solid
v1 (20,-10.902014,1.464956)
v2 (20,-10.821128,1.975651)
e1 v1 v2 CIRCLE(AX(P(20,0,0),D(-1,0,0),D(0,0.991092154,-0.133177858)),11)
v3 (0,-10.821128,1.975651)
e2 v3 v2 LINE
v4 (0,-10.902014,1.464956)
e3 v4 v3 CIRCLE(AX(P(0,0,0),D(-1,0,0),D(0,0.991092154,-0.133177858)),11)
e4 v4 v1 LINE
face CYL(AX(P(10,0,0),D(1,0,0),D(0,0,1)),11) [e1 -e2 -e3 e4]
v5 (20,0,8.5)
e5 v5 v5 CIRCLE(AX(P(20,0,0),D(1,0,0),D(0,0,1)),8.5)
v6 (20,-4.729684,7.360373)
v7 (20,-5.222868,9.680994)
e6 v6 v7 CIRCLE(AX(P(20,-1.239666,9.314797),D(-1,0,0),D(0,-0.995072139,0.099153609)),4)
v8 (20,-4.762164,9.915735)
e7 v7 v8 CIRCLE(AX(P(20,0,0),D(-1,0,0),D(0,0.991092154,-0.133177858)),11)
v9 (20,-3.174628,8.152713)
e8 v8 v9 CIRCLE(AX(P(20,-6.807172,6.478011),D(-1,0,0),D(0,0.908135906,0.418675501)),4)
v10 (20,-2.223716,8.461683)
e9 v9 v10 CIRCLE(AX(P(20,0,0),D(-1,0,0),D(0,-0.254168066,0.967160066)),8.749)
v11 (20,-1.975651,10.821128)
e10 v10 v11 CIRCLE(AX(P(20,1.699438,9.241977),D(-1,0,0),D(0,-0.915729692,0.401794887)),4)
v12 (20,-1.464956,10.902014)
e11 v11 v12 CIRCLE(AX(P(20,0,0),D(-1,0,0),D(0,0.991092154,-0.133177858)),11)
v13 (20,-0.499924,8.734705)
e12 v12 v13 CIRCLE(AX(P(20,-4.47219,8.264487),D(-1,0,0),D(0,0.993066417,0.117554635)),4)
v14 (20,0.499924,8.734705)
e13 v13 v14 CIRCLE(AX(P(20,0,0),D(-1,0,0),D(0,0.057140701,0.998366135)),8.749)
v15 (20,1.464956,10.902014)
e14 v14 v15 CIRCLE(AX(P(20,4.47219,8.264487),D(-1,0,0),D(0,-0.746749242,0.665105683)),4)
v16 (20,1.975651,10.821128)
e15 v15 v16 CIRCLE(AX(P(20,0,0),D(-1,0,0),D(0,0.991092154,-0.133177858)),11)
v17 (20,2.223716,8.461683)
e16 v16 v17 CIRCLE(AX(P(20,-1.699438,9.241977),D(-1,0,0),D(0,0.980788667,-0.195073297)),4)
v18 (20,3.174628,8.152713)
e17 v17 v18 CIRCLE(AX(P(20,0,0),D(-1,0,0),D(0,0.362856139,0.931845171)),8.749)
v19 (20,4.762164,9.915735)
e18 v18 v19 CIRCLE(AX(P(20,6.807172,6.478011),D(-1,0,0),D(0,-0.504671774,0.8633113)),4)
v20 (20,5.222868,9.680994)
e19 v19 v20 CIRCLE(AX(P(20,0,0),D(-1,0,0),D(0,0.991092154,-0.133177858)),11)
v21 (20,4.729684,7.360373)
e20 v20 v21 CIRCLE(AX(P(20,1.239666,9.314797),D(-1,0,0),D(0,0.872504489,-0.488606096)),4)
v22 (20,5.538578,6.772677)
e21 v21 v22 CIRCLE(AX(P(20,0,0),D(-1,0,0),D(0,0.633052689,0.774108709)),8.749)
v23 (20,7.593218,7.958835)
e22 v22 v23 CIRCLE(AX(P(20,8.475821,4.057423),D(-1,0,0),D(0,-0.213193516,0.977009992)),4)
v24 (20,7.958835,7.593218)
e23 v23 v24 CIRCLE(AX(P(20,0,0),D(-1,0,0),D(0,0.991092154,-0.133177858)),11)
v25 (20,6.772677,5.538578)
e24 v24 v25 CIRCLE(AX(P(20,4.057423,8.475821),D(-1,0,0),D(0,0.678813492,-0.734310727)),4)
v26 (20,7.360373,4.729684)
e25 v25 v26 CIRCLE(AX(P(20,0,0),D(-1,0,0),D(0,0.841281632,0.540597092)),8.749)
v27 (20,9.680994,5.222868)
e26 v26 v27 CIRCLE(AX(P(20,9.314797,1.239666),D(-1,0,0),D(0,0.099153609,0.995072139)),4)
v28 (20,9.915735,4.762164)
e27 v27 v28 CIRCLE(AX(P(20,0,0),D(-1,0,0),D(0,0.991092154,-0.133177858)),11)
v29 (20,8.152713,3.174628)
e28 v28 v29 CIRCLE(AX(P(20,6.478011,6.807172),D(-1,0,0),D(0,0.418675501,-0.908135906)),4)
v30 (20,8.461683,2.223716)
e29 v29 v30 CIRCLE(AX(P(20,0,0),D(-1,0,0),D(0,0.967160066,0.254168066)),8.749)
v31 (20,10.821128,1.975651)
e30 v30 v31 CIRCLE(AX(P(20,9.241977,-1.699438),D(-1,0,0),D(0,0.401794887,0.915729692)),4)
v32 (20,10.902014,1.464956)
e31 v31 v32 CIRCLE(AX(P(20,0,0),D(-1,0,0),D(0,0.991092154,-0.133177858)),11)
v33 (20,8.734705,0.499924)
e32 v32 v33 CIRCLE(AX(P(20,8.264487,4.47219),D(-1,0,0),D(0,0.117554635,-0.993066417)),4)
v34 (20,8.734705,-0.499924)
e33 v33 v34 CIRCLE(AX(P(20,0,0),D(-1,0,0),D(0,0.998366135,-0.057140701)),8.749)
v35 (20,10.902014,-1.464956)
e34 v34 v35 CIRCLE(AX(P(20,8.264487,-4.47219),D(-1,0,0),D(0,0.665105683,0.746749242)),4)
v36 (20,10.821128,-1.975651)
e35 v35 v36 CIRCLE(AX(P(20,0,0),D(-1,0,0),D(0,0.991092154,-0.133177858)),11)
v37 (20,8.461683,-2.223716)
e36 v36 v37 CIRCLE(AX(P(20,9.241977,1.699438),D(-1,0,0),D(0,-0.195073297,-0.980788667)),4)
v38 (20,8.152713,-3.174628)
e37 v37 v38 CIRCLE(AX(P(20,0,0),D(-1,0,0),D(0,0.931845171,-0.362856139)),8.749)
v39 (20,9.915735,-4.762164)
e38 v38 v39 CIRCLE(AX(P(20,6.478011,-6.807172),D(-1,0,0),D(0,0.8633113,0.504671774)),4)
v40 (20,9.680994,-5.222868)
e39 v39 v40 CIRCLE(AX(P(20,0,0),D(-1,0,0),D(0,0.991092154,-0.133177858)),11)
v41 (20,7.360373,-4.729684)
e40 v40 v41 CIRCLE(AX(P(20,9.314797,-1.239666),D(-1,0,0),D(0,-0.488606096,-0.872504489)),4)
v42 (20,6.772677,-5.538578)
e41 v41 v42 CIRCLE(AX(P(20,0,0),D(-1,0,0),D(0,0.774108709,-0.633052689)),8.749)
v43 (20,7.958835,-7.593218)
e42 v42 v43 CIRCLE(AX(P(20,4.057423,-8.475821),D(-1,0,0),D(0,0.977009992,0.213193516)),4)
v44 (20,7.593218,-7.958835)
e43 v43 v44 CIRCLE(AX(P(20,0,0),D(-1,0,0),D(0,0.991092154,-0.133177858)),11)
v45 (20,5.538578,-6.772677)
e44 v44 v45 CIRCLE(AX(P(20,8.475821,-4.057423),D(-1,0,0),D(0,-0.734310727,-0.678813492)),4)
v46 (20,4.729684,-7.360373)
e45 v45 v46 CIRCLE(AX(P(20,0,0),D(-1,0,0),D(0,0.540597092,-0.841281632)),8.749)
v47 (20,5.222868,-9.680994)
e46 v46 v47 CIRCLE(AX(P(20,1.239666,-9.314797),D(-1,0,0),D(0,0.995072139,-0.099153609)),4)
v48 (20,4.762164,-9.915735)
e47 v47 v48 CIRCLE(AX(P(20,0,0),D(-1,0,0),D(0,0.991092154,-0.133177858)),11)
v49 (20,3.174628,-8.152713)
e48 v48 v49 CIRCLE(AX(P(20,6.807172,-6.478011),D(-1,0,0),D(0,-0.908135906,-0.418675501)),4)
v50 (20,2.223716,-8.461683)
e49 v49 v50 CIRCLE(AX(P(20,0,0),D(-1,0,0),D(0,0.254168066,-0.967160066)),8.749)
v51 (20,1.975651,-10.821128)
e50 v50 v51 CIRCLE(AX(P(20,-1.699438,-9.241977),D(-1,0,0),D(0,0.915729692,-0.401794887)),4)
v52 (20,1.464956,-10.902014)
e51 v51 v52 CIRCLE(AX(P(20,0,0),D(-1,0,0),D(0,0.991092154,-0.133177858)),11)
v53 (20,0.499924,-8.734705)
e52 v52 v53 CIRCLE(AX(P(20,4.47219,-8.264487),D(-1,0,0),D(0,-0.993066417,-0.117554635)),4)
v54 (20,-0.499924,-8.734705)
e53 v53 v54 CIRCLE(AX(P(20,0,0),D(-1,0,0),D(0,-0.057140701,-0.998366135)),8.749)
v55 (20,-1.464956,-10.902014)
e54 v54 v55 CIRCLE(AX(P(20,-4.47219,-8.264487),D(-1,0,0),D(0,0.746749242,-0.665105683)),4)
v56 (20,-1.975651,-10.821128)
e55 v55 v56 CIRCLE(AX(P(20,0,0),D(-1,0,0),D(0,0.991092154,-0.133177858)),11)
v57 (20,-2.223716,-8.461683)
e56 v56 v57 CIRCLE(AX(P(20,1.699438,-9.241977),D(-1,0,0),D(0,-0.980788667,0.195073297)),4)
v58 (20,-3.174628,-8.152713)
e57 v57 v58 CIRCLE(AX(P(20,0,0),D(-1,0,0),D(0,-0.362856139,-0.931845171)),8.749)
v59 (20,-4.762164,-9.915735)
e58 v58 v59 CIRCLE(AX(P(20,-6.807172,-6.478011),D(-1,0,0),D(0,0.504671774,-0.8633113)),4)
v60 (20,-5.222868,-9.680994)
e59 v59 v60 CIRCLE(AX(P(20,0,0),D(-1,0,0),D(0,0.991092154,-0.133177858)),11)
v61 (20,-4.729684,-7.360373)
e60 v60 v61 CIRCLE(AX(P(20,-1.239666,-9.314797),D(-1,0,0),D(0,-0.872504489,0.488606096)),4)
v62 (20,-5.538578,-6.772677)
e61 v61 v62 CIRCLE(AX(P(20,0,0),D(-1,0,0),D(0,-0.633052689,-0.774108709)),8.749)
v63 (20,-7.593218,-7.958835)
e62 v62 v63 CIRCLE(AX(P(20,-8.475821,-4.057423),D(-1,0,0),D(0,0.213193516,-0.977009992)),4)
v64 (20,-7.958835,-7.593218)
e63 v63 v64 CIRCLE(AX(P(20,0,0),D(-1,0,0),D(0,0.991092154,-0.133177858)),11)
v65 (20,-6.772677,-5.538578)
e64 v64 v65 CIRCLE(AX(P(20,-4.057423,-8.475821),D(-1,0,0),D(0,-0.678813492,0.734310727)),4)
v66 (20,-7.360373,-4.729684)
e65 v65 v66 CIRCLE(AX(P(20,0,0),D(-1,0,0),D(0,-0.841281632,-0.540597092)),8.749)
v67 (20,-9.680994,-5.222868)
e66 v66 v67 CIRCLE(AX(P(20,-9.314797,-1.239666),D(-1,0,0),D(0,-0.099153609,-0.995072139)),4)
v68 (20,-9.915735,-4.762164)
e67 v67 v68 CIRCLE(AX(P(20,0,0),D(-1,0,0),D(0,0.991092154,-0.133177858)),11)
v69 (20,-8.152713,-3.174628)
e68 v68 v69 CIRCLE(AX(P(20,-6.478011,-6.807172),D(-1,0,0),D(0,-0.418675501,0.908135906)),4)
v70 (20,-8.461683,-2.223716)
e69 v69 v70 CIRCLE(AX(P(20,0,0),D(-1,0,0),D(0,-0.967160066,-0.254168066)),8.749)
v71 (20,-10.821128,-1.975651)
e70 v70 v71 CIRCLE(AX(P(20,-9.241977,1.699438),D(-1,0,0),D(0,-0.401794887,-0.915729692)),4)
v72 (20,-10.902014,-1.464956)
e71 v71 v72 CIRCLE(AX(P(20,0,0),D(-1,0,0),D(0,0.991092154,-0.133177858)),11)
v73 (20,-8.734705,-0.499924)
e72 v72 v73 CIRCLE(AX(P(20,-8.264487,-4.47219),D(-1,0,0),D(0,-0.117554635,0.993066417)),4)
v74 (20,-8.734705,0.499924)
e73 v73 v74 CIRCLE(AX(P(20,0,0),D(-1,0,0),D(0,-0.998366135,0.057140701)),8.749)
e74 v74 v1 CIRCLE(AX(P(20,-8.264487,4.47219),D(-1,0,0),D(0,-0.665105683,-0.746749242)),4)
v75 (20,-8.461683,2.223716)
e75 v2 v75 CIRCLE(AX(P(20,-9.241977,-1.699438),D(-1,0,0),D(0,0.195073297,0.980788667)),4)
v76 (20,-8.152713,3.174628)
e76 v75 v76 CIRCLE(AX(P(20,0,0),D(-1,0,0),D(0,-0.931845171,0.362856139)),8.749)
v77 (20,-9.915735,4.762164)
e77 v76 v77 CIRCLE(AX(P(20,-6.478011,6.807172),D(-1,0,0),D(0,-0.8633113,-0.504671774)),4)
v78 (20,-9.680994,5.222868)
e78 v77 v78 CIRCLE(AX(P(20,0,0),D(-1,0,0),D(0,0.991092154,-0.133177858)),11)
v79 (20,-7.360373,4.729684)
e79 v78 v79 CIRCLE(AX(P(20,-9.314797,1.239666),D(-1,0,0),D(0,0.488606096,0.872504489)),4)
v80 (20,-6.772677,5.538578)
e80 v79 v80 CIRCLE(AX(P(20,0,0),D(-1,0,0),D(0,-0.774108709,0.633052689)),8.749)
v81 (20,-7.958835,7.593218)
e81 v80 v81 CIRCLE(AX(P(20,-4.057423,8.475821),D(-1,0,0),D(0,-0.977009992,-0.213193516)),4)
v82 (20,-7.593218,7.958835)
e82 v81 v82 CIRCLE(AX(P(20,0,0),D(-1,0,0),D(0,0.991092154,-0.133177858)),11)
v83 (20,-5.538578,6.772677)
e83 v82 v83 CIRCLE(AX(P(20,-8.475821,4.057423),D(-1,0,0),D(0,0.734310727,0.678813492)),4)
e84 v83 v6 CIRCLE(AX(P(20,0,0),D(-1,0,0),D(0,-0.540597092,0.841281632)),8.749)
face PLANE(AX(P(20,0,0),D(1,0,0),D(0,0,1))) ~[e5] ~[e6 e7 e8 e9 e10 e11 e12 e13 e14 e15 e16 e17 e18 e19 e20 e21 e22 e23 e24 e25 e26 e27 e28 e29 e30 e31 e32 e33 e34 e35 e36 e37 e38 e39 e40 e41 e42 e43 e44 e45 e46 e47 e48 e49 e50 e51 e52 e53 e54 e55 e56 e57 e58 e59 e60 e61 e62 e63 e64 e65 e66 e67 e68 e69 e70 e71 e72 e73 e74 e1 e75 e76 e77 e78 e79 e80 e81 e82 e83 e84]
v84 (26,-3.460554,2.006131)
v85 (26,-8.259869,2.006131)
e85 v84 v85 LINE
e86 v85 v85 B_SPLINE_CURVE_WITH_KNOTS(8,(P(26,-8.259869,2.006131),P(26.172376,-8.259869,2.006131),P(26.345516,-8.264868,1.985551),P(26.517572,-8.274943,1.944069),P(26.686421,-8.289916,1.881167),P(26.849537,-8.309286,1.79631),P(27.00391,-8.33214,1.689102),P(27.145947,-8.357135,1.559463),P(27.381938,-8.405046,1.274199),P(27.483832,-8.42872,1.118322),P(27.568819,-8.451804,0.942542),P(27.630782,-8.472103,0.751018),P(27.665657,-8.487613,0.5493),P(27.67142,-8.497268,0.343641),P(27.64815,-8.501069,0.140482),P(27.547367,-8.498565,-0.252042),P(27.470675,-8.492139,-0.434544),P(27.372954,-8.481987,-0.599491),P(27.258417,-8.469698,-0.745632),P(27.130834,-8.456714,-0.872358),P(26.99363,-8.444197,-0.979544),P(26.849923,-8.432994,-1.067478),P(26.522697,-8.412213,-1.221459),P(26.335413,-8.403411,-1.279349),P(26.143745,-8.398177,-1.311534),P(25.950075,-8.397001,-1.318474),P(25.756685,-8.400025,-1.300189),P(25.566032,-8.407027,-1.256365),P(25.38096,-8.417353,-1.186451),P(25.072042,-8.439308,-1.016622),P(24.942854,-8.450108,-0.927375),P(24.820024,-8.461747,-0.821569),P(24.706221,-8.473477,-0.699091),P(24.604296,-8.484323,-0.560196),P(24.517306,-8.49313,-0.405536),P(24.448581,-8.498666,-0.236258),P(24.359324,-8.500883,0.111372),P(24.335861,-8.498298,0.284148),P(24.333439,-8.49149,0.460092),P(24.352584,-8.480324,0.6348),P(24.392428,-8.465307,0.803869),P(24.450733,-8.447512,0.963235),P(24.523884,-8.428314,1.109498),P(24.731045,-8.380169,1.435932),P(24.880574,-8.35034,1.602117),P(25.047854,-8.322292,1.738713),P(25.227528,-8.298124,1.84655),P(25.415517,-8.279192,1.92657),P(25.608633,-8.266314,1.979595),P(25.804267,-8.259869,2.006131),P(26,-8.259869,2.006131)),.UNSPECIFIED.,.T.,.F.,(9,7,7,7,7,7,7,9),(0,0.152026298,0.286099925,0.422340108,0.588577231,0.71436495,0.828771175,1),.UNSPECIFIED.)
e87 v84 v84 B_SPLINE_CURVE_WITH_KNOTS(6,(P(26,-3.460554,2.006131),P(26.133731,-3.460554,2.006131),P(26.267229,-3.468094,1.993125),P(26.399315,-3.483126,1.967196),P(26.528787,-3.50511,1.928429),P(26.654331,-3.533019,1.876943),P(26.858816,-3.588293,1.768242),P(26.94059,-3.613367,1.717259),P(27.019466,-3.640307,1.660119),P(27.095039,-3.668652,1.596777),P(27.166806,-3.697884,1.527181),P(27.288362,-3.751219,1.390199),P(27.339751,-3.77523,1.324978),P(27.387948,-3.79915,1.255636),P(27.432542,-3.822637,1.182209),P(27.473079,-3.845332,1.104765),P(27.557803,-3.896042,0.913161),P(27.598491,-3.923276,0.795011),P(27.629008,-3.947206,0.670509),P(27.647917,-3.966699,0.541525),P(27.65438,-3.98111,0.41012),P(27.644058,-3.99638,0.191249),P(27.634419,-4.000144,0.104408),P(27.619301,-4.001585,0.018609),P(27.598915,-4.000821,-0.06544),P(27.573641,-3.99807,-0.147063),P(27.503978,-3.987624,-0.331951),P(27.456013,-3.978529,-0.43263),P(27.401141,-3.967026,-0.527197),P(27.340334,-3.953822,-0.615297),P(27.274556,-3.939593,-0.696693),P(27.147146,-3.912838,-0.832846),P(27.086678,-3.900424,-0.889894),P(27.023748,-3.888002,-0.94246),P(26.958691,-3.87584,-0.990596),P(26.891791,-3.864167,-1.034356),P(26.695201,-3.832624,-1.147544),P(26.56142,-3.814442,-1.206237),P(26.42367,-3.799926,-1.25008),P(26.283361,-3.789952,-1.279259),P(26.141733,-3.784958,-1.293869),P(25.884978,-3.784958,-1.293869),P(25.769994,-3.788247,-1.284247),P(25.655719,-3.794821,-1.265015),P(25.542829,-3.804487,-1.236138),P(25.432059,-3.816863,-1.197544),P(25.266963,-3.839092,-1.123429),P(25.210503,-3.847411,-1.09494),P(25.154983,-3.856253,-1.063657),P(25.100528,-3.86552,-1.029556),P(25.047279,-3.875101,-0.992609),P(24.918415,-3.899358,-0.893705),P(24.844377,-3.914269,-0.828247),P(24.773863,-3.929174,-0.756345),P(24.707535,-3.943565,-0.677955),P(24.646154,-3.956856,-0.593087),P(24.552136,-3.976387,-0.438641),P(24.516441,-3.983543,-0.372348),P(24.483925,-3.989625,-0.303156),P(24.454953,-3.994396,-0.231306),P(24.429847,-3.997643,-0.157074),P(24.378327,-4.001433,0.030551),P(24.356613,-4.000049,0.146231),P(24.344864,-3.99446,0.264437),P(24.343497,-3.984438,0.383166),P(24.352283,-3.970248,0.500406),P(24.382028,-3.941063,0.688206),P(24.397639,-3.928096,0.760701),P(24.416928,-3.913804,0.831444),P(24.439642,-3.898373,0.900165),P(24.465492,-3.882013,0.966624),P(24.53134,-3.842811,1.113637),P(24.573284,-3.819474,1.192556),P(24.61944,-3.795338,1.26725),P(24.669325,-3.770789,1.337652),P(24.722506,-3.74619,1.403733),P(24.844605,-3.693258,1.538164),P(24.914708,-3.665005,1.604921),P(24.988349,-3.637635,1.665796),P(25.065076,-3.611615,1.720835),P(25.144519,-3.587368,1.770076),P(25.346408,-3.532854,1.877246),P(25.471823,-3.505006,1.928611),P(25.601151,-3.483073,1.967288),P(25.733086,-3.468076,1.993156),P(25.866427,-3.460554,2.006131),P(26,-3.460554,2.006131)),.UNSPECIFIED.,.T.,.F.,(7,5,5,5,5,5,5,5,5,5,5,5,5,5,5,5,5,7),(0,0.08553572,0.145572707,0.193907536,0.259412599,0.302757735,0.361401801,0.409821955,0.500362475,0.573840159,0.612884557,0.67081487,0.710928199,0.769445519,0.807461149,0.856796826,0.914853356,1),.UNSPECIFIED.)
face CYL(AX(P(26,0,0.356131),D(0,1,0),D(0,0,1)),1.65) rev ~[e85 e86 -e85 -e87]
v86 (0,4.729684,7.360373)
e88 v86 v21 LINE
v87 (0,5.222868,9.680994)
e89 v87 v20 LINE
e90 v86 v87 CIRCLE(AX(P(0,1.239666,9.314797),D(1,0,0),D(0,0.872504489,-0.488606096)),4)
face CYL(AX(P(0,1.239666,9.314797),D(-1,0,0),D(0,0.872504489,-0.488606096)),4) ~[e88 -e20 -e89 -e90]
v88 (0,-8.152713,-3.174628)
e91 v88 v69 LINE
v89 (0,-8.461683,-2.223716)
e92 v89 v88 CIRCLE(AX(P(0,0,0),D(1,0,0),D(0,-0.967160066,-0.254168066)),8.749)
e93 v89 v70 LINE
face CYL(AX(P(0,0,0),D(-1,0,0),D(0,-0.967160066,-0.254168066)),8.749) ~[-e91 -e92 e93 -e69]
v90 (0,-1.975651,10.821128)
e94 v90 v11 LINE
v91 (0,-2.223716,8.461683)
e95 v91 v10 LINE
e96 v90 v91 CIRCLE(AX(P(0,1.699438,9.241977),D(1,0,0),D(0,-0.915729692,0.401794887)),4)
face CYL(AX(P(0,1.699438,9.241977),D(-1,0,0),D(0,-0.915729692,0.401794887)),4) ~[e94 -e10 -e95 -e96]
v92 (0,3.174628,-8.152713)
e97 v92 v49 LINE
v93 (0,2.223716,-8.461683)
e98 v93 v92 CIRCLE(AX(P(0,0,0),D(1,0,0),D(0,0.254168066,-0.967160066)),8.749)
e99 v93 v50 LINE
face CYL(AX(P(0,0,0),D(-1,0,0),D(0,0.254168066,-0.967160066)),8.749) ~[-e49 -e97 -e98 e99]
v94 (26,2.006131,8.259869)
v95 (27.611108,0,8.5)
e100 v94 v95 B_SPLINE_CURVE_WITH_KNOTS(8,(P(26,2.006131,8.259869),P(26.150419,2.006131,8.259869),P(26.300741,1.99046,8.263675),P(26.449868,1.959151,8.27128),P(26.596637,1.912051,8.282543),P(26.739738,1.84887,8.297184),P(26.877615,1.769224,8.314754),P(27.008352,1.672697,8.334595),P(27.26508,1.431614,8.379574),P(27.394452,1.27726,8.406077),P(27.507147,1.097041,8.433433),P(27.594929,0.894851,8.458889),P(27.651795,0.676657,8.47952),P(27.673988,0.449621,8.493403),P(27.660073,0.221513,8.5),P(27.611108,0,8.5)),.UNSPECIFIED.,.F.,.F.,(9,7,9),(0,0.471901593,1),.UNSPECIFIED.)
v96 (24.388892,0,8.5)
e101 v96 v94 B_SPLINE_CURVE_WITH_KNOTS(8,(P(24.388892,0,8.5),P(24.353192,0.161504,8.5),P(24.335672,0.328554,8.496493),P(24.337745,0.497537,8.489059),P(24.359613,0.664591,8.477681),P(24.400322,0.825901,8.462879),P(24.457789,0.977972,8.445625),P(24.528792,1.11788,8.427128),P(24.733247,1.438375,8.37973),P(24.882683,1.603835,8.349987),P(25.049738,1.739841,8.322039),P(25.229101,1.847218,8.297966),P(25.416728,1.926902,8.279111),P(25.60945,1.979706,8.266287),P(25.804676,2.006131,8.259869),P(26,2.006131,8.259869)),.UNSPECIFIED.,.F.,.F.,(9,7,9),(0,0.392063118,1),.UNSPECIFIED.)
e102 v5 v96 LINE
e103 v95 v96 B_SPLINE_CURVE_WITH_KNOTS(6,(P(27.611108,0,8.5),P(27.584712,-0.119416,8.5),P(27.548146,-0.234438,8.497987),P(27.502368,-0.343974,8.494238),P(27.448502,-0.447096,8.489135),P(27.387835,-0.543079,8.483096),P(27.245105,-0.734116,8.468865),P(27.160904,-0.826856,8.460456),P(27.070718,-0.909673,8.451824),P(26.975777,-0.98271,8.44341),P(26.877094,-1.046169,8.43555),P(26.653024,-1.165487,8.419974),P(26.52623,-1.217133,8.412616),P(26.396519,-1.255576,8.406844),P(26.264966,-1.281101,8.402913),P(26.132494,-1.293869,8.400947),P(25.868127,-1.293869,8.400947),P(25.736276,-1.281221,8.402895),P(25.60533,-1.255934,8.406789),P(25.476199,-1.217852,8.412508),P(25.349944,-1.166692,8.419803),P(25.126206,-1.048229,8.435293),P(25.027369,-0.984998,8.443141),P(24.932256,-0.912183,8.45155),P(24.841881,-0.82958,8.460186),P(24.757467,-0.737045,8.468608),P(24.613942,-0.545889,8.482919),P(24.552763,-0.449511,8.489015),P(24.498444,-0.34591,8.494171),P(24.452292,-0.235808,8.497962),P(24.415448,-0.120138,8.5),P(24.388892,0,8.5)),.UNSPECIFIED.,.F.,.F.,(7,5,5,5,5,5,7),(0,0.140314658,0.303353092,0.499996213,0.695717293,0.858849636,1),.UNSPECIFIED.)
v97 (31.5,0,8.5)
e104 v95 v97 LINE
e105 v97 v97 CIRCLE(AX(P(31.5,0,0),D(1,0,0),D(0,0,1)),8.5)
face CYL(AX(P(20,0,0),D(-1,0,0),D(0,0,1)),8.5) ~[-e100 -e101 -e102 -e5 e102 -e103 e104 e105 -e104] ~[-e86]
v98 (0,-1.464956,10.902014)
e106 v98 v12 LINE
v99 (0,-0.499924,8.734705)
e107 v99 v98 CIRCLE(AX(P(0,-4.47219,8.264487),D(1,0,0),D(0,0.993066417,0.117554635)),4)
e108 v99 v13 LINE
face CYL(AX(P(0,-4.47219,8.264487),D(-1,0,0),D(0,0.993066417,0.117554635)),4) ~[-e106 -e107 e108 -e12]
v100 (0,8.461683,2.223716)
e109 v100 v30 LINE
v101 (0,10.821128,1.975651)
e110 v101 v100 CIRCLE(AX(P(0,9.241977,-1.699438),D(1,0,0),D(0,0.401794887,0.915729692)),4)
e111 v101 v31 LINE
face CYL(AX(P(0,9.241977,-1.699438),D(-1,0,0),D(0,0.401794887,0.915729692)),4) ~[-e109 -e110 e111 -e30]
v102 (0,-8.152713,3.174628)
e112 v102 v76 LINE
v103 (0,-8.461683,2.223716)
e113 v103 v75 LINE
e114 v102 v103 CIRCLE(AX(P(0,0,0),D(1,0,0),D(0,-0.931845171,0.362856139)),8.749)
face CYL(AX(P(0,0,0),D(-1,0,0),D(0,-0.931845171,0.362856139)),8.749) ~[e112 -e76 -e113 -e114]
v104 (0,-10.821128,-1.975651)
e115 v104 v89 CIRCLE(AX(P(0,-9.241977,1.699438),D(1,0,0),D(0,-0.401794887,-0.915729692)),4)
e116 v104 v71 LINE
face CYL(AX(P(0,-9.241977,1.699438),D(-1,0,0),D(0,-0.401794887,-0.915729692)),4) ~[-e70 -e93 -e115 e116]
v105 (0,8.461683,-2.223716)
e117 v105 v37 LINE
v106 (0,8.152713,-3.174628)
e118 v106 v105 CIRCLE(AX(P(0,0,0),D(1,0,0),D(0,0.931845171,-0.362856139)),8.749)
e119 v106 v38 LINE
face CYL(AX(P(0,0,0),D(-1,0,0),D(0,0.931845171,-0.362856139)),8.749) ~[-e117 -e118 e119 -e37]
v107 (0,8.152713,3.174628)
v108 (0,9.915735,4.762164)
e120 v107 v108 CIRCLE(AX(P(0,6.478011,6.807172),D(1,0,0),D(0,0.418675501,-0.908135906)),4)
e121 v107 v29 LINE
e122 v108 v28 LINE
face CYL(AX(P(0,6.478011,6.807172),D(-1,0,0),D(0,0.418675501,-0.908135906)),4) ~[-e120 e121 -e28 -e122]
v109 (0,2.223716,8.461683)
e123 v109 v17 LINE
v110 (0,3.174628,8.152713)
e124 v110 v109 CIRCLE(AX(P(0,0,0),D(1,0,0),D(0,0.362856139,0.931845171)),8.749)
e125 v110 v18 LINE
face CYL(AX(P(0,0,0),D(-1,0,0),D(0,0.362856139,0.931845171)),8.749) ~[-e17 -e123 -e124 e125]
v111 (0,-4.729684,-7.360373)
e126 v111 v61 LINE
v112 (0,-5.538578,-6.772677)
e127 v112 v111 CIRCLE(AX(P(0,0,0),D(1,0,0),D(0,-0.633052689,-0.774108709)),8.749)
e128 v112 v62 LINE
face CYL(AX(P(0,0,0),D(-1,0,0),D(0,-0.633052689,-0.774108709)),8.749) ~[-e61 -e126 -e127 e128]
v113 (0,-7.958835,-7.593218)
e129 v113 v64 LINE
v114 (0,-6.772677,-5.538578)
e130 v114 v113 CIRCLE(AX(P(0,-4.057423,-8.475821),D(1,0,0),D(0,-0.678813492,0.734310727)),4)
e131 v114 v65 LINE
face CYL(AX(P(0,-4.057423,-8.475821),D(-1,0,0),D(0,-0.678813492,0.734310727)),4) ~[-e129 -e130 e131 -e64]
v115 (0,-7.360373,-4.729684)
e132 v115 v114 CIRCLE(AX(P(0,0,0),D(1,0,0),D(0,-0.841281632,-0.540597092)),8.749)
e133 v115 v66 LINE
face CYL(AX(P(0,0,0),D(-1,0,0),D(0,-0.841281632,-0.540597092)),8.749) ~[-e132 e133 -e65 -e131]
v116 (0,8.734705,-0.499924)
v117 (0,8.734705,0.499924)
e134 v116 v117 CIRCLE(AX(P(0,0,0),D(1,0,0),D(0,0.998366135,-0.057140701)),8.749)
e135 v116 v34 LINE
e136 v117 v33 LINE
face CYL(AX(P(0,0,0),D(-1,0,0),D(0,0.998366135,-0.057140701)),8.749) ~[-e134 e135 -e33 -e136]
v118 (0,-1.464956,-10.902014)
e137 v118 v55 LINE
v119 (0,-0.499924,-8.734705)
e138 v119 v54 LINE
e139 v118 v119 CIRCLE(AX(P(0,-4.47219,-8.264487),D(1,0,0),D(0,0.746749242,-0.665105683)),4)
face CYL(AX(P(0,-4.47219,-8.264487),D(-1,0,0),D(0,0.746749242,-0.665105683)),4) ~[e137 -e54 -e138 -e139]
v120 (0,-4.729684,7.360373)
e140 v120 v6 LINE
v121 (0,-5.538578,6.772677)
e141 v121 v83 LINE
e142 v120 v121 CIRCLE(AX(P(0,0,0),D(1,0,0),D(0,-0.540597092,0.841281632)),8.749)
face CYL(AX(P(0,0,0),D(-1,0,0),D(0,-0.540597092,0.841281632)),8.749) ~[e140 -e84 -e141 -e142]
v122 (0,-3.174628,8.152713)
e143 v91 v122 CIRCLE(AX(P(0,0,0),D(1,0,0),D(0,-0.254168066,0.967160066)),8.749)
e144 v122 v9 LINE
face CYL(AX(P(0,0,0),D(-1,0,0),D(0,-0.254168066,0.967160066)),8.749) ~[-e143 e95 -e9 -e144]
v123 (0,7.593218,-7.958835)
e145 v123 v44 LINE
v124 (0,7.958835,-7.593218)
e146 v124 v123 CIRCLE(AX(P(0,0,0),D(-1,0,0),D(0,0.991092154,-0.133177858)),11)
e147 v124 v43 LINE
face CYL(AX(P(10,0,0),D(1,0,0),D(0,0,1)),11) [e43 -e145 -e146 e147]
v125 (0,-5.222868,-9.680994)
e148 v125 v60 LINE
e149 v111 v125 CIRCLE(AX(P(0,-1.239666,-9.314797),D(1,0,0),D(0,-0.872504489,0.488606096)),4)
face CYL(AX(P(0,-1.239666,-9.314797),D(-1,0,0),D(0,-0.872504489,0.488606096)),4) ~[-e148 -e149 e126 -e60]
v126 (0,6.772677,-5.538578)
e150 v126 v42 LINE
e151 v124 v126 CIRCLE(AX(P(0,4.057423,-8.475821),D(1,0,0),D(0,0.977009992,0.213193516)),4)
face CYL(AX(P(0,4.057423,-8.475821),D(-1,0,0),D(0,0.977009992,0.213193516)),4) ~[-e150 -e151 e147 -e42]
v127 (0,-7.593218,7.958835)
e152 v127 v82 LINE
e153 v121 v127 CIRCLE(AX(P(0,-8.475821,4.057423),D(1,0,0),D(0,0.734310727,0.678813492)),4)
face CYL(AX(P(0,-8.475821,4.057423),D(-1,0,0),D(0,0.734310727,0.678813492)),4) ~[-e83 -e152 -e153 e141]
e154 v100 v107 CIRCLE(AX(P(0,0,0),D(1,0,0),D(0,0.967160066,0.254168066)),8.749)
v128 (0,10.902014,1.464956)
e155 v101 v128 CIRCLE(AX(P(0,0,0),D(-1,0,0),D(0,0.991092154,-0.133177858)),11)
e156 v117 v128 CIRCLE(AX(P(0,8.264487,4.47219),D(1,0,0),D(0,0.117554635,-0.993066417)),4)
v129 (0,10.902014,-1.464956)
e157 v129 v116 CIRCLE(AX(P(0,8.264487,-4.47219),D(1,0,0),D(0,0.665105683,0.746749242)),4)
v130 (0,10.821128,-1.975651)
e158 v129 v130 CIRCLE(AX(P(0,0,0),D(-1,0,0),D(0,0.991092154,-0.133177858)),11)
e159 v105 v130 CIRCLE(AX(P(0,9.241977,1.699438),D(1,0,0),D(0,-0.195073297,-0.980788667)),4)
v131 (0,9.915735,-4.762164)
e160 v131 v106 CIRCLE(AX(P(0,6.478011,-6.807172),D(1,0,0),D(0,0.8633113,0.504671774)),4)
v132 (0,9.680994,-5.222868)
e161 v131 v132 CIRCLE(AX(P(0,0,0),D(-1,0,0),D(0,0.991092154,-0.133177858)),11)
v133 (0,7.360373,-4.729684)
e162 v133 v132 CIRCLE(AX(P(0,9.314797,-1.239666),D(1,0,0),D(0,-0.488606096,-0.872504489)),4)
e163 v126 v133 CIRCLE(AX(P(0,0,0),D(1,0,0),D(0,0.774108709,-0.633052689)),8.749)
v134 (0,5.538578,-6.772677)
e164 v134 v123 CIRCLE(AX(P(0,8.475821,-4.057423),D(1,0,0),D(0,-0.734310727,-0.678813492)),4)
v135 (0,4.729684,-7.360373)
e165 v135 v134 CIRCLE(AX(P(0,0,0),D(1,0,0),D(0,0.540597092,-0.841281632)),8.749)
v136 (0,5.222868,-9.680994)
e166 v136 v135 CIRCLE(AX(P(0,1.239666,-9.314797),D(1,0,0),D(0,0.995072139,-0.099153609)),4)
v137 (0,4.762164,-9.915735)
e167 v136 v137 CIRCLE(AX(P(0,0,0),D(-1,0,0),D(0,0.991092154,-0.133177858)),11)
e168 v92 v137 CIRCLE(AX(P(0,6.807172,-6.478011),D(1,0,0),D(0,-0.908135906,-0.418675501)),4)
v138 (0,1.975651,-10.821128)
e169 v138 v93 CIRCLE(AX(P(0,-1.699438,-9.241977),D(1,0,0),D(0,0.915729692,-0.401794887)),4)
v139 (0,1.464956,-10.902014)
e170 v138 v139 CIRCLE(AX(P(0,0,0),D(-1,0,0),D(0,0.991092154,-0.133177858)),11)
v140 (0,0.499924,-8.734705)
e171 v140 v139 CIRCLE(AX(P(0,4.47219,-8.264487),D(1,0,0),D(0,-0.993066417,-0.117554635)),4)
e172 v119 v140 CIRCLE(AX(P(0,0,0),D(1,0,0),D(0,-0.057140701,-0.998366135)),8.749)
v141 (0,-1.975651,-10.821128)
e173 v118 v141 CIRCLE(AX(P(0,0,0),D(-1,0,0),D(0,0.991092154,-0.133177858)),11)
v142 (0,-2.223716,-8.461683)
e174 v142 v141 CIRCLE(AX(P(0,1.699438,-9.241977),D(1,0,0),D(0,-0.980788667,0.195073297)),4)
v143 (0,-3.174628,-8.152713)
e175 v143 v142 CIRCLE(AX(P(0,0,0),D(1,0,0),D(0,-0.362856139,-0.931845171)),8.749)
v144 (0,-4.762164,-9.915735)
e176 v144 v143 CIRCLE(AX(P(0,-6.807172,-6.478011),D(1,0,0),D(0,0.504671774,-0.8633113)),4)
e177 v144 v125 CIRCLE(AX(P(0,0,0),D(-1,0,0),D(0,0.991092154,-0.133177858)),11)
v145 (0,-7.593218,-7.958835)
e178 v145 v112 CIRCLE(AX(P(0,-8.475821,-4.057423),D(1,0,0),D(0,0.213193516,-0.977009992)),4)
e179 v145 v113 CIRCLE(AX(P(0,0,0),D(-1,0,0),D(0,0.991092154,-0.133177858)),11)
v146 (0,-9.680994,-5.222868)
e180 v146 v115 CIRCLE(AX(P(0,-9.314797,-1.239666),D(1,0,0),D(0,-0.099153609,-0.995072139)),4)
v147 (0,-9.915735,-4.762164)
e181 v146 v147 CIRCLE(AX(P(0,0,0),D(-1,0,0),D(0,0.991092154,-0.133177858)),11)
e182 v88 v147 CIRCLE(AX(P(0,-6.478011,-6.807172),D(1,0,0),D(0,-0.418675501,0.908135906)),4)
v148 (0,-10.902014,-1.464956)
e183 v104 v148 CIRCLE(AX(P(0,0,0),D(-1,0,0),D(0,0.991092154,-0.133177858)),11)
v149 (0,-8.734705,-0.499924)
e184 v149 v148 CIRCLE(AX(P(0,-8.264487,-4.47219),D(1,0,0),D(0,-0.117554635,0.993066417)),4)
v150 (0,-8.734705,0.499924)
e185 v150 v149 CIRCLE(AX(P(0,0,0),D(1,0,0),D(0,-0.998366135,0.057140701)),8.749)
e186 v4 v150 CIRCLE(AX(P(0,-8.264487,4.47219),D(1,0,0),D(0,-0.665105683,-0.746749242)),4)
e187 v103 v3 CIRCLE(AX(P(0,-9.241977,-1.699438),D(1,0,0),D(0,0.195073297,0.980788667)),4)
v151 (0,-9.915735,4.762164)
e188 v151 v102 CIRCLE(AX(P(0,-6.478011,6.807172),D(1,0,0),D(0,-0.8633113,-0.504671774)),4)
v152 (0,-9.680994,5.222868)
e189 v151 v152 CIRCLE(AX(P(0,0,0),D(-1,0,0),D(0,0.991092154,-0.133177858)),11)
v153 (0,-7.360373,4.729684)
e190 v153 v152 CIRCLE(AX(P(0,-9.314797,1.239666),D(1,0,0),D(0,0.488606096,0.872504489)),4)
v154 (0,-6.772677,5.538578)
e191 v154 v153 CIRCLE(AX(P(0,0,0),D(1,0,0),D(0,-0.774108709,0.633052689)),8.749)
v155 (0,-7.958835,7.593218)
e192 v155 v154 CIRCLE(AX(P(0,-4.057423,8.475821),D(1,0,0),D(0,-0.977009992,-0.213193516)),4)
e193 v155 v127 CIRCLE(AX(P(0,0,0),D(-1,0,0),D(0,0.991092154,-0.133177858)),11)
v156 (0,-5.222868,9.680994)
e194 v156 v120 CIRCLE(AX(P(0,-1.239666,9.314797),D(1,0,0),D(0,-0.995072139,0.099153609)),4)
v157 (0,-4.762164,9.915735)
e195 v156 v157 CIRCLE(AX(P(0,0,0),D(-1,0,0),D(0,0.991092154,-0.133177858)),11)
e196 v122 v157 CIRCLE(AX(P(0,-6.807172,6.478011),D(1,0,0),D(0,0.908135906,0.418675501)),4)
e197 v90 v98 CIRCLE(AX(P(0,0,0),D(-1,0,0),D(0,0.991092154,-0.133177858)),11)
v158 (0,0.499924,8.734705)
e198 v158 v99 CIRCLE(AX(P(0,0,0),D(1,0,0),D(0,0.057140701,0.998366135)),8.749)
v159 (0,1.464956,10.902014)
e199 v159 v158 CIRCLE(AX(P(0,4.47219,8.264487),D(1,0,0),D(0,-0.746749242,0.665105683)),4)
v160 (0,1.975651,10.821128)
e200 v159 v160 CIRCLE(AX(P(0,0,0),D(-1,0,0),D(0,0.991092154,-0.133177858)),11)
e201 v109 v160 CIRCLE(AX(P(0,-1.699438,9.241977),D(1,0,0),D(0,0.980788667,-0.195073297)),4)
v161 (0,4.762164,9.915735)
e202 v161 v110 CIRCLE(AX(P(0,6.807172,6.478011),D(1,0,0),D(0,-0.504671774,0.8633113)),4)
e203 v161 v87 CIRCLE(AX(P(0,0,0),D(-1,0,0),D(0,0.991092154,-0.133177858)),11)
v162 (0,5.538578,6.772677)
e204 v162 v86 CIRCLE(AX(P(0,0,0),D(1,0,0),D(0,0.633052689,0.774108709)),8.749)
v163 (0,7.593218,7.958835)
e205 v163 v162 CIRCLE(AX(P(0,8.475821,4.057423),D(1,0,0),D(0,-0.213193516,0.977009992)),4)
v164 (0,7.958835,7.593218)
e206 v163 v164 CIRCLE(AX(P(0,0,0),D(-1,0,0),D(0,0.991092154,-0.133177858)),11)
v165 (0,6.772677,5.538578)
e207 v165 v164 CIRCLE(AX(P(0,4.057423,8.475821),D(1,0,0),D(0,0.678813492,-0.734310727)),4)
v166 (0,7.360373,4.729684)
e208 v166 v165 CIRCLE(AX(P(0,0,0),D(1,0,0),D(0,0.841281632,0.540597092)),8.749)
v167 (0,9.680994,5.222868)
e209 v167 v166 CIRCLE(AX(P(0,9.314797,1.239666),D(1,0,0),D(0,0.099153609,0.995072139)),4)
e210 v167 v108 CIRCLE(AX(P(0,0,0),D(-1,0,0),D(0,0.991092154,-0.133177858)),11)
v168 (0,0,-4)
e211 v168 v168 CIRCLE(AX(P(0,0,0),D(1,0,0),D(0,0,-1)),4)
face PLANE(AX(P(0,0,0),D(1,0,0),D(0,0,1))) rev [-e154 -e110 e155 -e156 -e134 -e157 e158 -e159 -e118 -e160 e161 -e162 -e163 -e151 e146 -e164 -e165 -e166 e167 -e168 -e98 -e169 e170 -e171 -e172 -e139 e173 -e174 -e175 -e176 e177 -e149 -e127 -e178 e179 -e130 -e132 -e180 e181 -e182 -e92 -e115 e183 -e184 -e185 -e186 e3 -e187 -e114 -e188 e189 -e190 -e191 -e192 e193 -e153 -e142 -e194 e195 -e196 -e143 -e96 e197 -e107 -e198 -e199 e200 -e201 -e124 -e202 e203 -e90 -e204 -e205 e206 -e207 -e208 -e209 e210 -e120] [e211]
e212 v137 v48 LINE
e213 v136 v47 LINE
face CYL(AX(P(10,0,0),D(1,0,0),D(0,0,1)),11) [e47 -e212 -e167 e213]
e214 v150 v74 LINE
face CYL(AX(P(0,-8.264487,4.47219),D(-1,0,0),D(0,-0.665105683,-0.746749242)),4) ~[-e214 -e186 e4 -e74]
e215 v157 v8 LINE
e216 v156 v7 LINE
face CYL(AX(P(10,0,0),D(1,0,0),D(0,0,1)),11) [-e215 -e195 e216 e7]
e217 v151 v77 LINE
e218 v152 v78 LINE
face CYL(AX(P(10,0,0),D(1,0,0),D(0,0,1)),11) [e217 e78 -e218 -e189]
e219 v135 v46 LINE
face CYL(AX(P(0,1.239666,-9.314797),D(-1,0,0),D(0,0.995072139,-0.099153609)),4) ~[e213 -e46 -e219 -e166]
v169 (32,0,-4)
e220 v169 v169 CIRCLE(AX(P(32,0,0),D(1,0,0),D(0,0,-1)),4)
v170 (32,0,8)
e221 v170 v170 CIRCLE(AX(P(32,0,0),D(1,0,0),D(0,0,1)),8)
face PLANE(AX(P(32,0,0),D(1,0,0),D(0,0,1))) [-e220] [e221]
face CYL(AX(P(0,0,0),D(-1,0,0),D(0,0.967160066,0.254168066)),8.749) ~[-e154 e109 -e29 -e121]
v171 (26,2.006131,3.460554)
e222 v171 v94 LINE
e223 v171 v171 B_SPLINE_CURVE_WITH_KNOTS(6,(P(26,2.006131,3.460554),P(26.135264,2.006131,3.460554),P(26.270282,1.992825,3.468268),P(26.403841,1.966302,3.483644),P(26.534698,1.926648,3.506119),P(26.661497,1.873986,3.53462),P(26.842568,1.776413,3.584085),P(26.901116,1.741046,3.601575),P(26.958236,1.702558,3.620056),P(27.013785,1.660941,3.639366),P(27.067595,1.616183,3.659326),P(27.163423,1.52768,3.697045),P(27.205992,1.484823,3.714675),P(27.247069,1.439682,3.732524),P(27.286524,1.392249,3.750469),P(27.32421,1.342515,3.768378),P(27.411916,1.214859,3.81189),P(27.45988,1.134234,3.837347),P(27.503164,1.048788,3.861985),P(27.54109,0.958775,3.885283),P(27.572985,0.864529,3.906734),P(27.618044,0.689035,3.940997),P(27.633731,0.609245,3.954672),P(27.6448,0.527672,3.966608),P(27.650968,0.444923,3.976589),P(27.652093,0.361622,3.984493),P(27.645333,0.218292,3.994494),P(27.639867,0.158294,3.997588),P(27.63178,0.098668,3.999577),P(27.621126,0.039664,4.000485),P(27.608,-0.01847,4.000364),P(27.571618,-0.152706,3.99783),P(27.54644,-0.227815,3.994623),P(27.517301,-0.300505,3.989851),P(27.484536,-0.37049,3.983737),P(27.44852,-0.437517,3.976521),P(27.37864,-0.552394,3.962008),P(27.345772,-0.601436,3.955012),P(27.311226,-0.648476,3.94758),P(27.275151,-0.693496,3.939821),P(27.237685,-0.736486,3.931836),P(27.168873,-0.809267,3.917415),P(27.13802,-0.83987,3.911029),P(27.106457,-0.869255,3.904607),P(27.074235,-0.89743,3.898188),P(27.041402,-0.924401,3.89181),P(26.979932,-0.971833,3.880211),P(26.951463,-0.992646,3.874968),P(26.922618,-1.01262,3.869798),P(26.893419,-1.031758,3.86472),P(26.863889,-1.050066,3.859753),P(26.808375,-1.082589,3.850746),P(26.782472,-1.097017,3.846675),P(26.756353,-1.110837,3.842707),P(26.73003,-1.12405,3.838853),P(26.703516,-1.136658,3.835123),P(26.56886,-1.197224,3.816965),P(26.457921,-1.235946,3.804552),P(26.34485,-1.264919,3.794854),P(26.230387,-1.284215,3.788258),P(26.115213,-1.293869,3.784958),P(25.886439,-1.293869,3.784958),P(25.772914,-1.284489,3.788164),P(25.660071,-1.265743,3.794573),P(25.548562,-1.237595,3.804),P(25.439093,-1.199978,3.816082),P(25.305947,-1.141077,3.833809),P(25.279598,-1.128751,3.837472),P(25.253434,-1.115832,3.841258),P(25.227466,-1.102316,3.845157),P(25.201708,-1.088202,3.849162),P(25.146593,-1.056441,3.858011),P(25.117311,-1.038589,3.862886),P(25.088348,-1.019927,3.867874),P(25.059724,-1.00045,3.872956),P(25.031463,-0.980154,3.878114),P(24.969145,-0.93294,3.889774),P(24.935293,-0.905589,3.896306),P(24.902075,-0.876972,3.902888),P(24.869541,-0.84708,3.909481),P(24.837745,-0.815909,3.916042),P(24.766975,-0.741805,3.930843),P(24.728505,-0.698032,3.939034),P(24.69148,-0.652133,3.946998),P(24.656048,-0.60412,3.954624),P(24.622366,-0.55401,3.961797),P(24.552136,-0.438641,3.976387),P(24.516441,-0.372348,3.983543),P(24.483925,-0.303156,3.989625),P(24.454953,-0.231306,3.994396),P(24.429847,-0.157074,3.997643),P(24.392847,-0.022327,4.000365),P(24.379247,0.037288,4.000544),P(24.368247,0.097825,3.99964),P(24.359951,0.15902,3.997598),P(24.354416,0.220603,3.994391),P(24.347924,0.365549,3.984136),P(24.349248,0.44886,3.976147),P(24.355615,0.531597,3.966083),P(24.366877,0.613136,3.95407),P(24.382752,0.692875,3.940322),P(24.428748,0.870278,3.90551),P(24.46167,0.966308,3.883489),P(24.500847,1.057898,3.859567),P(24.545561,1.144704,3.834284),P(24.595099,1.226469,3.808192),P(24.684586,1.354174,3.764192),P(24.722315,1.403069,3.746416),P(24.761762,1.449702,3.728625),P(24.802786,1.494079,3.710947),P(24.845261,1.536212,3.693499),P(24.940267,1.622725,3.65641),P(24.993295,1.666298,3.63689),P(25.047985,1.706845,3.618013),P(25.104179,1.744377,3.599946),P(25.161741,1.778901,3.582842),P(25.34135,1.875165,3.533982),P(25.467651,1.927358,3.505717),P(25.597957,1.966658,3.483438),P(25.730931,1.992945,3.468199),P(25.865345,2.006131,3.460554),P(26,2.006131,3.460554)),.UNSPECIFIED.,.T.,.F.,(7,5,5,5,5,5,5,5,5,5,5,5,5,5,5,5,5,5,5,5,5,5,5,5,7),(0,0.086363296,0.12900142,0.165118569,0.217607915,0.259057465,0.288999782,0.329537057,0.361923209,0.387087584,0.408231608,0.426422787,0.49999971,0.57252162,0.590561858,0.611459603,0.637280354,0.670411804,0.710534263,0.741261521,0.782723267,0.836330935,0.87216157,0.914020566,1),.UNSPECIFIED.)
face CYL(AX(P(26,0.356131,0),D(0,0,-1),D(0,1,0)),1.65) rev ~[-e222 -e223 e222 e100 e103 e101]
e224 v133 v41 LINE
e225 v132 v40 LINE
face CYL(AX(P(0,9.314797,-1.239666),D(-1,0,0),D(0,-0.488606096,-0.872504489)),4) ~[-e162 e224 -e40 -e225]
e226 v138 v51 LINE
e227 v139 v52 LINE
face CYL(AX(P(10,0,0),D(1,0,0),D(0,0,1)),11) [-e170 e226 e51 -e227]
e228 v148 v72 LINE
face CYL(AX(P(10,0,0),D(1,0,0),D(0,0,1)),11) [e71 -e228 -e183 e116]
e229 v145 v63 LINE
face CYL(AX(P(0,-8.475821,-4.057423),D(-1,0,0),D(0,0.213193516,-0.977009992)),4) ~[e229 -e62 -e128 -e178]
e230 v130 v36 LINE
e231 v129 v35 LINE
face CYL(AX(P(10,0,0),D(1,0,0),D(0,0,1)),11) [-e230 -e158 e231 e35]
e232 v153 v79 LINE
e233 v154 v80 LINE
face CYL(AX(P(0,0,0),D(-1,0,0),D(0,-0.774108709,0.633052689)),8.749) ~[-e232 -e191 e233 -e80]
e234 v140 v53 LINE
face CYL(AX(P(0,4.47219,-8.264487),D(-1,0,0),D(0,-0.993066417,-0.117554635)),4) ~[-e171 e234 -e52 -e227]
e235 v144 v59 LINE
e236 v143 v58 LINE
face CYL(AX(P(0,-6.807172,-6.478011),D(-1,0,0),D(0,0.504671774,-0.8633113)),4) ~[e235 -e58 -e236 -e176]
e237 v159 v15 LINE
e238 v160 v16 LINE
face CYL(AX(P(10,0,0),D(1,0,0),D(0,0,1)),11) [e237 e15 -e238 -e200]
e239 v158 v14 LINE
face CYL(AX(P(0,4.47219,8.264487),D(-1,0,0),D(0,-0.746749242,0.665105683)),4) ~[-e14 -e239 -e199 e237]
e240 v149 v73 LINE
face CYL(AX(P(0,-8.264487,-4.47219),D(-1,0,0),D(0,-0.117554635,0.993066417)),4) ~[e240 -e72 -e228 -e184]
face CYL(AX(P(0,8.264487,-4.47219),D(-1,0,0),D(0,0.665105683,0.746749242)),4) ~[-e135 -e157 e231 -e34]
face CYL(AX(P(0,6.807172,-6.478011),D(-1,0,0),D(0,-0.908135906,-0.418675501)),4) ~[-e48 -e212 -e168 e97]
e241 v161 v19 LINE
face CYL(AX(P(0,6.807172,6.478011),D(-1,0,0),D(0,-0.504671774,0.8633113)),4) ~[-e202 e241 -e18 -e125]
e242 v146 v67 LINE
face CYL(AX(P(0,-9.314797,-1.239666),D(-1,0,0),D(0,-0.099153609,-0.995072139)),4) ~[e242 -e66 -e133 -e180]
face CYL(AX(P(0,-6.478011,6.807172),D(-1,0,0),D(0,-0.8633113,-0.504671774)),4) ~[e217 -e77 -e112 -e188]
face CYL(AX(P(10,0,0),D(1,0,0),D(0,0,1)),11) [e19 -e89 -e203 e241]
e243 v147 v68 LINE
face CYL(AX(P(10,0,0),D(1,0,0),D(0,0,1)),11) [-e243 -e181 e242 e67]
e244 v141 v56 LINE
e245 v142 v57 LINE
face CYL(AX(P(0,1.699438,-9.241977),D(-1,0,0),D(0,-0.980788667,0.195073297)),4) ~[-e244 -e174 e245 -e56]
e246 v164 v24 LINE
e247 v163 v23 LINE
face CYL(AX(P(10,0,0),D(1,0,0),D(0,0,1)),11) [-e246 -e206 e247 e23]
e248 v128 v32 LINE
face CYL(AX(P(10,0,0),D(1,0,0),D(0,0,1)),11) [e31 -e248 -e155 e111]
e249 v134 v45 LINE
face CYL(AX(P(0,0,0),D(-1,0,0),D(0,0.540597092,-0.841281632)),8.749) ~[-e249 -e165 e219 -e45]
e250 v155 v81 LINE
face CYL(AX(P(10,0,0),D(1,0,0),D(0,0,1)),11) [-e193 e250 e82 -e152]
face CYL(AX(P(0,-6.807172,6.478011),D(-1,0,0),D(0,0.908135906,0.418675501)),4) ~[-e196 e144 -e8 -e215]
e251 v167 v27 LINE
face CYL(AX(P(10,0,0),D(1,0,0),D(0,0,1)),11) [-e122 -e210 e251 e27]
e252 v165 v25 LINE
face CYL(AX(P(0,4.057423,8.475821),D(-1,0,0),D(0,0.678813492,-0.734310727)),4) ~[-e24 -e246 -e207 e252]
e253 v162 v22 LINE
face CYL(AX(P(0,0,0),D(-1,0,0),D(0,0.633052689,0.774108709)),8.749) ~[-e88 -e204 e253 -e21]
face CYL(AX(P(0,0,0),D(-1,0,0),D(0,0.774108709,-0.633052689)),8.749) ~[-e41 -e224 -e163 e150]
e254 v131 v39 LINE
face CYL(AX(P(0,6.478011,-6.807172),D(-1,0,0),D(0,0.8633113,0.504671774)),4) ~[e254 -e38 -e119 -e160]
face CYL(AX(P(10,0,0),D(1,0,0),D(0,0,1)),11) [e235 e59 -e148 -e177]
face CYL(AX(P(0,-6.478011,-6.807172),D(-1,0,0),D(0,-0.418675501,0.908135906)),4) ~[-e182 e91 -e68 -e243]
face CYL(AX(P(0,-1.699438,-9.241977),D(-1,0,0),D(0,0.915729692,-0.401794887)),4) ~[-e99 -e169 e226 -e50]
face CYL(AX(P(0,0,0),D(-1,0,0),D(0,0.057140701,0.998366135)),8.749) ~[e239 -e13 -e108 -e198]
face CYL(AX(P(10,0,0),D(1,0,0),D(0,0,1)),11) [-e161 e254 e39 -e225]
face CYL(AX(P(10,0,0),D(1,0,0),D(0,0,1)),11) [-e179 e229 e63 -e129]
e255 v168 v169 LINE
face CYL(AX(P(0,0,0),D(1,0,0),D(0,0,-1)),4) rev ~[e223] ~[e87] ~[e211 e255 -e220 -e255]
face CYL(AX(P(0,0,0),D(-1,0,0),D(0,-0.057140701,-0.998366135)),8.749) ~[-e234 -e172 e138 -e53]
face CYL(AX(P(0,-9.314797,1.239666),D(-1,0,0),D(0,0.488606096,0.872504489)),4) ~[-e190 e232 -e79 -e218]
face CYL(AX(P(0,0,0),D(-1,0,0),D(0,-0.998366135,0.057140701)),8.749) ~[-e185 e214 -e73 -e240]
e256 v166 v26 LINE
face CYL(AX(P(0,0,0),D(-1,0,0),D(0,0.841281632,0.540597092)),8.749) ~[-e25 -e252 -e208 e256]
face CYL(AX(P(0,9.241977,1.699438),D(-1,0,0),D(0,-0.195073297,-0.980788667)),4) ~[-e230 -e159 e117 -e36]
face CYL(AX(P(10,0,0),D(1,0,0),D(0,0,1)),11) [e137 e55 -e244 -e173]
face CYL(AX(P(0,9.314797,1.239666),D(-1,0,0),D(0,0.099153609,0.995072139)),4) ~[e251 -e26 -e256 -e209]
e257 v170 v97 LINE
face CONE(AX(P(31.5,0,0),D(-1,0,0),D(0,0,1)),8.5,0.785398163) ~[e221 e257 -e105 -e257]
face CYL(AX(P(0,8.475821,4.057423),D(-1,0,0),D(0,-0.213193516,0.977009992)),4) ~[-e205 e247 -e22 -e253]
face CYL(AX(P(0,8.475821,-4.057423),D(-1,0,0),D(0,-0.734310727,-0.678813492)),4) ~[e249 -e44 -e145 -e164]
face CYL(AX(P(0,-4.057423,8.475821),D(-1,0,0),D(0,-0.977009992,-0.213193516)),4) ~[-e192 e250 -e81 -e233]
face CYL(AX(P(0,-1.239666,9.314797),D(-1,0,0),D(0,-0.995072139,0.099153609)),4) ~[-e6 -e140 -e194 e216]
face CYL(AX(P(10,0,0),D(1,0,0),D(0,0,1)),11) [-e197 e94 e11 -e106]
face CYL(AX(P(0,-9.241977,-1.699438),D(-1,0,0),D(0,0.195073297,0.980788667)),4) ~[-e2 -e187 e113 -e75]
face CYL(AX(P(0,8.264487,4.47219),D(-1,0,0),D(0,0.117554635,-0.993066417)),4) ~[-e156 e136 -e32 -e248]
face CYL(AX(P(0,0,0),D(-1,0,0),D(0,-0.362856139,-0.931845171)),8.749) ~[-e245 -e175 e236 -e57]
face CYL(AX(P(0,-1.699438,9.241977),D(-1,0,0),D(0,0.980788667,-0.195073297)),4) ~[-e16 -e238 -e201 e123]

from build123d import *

# Parameters (mm, degrees)
BASPROSKE_W              = 20
BASPROSKE_H              = 11
TOOTHCUT_DEPTH           = 26.337718919
TEETHCUTS_COUNT          = 20
TEETHCUTS_ANGLE          = 342
SKETCH_2_R               = 8.5
EXTRUDE_1_DEPTH          = 12
BORSKE_R                 = 4
BORE_DEPTH               = 50.0000508
CHAMFER_1_SIZE           = 0.5
SKETCH_3_R               = 1.65
CUT_EXTRUDE_1_DEPTH      = 10
PATTERN_CIRCULAR_1_COUNT = 2
PATTERN_CIRCULAR_1_ANGLE = 90


with BuildPart() as part:
    # BasProSke → Base-Revolve (revolve)
    with BuildSketch(Plane(origin=(0, 0, 0), x_dir=(1, 0, 0), z_dir=(0, 1, 0)), mode=Mode.PRIVATE) as base_revolve_sk:
        with Locations((10, 5.5)):
            Rectangle(BASPROSKE_W, BASPROSKE_H)
    revolve(base_revolve_sk.sketch.rotate(Axis((-10, 0, 0), (1, 0, 0)), 180), axis=Axis((-10, 0, 0), (1, 0, 0)))

    # TooCutSke → ToothCut (cut, through all)
    with BuildSketch(Plane(origin=(0, 0, 0), x_dir=(0, 0, -1), z_dir=(1, 0, 0))):
        with BuildLine():
            ThreePointArc((0.499924007, 8.734705318), (0, 8.749), (-0.499924007, 8.734705318))
            ThreePointArc((-0.499924007, 8.734705318), (-0.824302243, 9.905497836), (-1.485192705, 10.924909509))
            ThreePointArc((-1.485192705, 10.924909509), (0, 11.0254), (1.485192705, 10.924909509))
            ThreePointArc((1.485192705, 10.924909509), (0.824302243, 9.905497836), (0.499924007, 8.734705318))
        make_face()
    toothcut = extrude(amount=TOOTHCUT_DEPTH, mode=Mode.SUBTRACT)

    # TeethCuts: ToothCut ×20 about axis
    teethcuts_axis = Axis((-10, 0, 0), (1, 0, 0))
    for i in range(1, TEETHCUTS_COUNT):
        add(toothcut.rotate(teethcuts_axis, i * TEETHCUTS_ANGLE / (TEETHCUTS_COUNT - 1)), mode=Mode.SUBTRACT)

    # 草圖2 → 填料-伸長1 (add)
    with BuildSketch(Plane(origin=(20, 0, 0), x_dir=(0, 0, -1), z_dir=(1, 0, 0))):
        with Locations(Location((0, 0, 0), (0, 0, 180))):
            Circle(SKETCH_2_R)
    extrude(amount=EXTRUDE_1_DEPTH)

    # BorSke → Bore (cut, symmetric)
    with BuildSketch(Plane(origin=(0, 0, 0), x_dir=(0, 0, -1), z_dir=(1, 0, 0))):
        Circle(BORSKE_R)
    extrude(amount=BORE_DEPTH, both=True, mode=Mode.SUBTRACT)

    # 導角1
    chamfer_1_edges = [part.edges().sort_by_distance(p)[0] for p in [
        (32, 0, -8.5),
    ]]
    chamfer(chamfer_1_edges, length=CHAMFER_1_SIZE)

    # 草圖3 → 除料-伸長1 (cut)
    with BuildSketch(Plane(origin=(0, 0, 0), x_dir=(1, 0, 0), z_dir=(0, 1, 0))):
        with Locations(Location((26, -0.356131442, 0), (0, 0, 270))):
            Circle(SKETCH_3_R)
    cut_extrude_1 = extrude(amount=-CUT_EXTRUDE_1_DEPTH, mode=Mode.SUBTRACT)

    # 環狀複製排列1: 除料-伸長1 ×2 about axis
    pattern_circular_1_axis = Axis((32, 0, 0), (-1, 0, 0))
    for i in range(1, PATTERN_CIRCULAR_1_COUNT):
        add(cut_extrude_1.rotate(pattern_circular_1_axis, i * PATTERN_CIRCULAR_1_ANGLE / (PATTERN_CIRCULAR_1_COUNT - 1)), mode=Mode.SUBTRACT)


solid = part.part
